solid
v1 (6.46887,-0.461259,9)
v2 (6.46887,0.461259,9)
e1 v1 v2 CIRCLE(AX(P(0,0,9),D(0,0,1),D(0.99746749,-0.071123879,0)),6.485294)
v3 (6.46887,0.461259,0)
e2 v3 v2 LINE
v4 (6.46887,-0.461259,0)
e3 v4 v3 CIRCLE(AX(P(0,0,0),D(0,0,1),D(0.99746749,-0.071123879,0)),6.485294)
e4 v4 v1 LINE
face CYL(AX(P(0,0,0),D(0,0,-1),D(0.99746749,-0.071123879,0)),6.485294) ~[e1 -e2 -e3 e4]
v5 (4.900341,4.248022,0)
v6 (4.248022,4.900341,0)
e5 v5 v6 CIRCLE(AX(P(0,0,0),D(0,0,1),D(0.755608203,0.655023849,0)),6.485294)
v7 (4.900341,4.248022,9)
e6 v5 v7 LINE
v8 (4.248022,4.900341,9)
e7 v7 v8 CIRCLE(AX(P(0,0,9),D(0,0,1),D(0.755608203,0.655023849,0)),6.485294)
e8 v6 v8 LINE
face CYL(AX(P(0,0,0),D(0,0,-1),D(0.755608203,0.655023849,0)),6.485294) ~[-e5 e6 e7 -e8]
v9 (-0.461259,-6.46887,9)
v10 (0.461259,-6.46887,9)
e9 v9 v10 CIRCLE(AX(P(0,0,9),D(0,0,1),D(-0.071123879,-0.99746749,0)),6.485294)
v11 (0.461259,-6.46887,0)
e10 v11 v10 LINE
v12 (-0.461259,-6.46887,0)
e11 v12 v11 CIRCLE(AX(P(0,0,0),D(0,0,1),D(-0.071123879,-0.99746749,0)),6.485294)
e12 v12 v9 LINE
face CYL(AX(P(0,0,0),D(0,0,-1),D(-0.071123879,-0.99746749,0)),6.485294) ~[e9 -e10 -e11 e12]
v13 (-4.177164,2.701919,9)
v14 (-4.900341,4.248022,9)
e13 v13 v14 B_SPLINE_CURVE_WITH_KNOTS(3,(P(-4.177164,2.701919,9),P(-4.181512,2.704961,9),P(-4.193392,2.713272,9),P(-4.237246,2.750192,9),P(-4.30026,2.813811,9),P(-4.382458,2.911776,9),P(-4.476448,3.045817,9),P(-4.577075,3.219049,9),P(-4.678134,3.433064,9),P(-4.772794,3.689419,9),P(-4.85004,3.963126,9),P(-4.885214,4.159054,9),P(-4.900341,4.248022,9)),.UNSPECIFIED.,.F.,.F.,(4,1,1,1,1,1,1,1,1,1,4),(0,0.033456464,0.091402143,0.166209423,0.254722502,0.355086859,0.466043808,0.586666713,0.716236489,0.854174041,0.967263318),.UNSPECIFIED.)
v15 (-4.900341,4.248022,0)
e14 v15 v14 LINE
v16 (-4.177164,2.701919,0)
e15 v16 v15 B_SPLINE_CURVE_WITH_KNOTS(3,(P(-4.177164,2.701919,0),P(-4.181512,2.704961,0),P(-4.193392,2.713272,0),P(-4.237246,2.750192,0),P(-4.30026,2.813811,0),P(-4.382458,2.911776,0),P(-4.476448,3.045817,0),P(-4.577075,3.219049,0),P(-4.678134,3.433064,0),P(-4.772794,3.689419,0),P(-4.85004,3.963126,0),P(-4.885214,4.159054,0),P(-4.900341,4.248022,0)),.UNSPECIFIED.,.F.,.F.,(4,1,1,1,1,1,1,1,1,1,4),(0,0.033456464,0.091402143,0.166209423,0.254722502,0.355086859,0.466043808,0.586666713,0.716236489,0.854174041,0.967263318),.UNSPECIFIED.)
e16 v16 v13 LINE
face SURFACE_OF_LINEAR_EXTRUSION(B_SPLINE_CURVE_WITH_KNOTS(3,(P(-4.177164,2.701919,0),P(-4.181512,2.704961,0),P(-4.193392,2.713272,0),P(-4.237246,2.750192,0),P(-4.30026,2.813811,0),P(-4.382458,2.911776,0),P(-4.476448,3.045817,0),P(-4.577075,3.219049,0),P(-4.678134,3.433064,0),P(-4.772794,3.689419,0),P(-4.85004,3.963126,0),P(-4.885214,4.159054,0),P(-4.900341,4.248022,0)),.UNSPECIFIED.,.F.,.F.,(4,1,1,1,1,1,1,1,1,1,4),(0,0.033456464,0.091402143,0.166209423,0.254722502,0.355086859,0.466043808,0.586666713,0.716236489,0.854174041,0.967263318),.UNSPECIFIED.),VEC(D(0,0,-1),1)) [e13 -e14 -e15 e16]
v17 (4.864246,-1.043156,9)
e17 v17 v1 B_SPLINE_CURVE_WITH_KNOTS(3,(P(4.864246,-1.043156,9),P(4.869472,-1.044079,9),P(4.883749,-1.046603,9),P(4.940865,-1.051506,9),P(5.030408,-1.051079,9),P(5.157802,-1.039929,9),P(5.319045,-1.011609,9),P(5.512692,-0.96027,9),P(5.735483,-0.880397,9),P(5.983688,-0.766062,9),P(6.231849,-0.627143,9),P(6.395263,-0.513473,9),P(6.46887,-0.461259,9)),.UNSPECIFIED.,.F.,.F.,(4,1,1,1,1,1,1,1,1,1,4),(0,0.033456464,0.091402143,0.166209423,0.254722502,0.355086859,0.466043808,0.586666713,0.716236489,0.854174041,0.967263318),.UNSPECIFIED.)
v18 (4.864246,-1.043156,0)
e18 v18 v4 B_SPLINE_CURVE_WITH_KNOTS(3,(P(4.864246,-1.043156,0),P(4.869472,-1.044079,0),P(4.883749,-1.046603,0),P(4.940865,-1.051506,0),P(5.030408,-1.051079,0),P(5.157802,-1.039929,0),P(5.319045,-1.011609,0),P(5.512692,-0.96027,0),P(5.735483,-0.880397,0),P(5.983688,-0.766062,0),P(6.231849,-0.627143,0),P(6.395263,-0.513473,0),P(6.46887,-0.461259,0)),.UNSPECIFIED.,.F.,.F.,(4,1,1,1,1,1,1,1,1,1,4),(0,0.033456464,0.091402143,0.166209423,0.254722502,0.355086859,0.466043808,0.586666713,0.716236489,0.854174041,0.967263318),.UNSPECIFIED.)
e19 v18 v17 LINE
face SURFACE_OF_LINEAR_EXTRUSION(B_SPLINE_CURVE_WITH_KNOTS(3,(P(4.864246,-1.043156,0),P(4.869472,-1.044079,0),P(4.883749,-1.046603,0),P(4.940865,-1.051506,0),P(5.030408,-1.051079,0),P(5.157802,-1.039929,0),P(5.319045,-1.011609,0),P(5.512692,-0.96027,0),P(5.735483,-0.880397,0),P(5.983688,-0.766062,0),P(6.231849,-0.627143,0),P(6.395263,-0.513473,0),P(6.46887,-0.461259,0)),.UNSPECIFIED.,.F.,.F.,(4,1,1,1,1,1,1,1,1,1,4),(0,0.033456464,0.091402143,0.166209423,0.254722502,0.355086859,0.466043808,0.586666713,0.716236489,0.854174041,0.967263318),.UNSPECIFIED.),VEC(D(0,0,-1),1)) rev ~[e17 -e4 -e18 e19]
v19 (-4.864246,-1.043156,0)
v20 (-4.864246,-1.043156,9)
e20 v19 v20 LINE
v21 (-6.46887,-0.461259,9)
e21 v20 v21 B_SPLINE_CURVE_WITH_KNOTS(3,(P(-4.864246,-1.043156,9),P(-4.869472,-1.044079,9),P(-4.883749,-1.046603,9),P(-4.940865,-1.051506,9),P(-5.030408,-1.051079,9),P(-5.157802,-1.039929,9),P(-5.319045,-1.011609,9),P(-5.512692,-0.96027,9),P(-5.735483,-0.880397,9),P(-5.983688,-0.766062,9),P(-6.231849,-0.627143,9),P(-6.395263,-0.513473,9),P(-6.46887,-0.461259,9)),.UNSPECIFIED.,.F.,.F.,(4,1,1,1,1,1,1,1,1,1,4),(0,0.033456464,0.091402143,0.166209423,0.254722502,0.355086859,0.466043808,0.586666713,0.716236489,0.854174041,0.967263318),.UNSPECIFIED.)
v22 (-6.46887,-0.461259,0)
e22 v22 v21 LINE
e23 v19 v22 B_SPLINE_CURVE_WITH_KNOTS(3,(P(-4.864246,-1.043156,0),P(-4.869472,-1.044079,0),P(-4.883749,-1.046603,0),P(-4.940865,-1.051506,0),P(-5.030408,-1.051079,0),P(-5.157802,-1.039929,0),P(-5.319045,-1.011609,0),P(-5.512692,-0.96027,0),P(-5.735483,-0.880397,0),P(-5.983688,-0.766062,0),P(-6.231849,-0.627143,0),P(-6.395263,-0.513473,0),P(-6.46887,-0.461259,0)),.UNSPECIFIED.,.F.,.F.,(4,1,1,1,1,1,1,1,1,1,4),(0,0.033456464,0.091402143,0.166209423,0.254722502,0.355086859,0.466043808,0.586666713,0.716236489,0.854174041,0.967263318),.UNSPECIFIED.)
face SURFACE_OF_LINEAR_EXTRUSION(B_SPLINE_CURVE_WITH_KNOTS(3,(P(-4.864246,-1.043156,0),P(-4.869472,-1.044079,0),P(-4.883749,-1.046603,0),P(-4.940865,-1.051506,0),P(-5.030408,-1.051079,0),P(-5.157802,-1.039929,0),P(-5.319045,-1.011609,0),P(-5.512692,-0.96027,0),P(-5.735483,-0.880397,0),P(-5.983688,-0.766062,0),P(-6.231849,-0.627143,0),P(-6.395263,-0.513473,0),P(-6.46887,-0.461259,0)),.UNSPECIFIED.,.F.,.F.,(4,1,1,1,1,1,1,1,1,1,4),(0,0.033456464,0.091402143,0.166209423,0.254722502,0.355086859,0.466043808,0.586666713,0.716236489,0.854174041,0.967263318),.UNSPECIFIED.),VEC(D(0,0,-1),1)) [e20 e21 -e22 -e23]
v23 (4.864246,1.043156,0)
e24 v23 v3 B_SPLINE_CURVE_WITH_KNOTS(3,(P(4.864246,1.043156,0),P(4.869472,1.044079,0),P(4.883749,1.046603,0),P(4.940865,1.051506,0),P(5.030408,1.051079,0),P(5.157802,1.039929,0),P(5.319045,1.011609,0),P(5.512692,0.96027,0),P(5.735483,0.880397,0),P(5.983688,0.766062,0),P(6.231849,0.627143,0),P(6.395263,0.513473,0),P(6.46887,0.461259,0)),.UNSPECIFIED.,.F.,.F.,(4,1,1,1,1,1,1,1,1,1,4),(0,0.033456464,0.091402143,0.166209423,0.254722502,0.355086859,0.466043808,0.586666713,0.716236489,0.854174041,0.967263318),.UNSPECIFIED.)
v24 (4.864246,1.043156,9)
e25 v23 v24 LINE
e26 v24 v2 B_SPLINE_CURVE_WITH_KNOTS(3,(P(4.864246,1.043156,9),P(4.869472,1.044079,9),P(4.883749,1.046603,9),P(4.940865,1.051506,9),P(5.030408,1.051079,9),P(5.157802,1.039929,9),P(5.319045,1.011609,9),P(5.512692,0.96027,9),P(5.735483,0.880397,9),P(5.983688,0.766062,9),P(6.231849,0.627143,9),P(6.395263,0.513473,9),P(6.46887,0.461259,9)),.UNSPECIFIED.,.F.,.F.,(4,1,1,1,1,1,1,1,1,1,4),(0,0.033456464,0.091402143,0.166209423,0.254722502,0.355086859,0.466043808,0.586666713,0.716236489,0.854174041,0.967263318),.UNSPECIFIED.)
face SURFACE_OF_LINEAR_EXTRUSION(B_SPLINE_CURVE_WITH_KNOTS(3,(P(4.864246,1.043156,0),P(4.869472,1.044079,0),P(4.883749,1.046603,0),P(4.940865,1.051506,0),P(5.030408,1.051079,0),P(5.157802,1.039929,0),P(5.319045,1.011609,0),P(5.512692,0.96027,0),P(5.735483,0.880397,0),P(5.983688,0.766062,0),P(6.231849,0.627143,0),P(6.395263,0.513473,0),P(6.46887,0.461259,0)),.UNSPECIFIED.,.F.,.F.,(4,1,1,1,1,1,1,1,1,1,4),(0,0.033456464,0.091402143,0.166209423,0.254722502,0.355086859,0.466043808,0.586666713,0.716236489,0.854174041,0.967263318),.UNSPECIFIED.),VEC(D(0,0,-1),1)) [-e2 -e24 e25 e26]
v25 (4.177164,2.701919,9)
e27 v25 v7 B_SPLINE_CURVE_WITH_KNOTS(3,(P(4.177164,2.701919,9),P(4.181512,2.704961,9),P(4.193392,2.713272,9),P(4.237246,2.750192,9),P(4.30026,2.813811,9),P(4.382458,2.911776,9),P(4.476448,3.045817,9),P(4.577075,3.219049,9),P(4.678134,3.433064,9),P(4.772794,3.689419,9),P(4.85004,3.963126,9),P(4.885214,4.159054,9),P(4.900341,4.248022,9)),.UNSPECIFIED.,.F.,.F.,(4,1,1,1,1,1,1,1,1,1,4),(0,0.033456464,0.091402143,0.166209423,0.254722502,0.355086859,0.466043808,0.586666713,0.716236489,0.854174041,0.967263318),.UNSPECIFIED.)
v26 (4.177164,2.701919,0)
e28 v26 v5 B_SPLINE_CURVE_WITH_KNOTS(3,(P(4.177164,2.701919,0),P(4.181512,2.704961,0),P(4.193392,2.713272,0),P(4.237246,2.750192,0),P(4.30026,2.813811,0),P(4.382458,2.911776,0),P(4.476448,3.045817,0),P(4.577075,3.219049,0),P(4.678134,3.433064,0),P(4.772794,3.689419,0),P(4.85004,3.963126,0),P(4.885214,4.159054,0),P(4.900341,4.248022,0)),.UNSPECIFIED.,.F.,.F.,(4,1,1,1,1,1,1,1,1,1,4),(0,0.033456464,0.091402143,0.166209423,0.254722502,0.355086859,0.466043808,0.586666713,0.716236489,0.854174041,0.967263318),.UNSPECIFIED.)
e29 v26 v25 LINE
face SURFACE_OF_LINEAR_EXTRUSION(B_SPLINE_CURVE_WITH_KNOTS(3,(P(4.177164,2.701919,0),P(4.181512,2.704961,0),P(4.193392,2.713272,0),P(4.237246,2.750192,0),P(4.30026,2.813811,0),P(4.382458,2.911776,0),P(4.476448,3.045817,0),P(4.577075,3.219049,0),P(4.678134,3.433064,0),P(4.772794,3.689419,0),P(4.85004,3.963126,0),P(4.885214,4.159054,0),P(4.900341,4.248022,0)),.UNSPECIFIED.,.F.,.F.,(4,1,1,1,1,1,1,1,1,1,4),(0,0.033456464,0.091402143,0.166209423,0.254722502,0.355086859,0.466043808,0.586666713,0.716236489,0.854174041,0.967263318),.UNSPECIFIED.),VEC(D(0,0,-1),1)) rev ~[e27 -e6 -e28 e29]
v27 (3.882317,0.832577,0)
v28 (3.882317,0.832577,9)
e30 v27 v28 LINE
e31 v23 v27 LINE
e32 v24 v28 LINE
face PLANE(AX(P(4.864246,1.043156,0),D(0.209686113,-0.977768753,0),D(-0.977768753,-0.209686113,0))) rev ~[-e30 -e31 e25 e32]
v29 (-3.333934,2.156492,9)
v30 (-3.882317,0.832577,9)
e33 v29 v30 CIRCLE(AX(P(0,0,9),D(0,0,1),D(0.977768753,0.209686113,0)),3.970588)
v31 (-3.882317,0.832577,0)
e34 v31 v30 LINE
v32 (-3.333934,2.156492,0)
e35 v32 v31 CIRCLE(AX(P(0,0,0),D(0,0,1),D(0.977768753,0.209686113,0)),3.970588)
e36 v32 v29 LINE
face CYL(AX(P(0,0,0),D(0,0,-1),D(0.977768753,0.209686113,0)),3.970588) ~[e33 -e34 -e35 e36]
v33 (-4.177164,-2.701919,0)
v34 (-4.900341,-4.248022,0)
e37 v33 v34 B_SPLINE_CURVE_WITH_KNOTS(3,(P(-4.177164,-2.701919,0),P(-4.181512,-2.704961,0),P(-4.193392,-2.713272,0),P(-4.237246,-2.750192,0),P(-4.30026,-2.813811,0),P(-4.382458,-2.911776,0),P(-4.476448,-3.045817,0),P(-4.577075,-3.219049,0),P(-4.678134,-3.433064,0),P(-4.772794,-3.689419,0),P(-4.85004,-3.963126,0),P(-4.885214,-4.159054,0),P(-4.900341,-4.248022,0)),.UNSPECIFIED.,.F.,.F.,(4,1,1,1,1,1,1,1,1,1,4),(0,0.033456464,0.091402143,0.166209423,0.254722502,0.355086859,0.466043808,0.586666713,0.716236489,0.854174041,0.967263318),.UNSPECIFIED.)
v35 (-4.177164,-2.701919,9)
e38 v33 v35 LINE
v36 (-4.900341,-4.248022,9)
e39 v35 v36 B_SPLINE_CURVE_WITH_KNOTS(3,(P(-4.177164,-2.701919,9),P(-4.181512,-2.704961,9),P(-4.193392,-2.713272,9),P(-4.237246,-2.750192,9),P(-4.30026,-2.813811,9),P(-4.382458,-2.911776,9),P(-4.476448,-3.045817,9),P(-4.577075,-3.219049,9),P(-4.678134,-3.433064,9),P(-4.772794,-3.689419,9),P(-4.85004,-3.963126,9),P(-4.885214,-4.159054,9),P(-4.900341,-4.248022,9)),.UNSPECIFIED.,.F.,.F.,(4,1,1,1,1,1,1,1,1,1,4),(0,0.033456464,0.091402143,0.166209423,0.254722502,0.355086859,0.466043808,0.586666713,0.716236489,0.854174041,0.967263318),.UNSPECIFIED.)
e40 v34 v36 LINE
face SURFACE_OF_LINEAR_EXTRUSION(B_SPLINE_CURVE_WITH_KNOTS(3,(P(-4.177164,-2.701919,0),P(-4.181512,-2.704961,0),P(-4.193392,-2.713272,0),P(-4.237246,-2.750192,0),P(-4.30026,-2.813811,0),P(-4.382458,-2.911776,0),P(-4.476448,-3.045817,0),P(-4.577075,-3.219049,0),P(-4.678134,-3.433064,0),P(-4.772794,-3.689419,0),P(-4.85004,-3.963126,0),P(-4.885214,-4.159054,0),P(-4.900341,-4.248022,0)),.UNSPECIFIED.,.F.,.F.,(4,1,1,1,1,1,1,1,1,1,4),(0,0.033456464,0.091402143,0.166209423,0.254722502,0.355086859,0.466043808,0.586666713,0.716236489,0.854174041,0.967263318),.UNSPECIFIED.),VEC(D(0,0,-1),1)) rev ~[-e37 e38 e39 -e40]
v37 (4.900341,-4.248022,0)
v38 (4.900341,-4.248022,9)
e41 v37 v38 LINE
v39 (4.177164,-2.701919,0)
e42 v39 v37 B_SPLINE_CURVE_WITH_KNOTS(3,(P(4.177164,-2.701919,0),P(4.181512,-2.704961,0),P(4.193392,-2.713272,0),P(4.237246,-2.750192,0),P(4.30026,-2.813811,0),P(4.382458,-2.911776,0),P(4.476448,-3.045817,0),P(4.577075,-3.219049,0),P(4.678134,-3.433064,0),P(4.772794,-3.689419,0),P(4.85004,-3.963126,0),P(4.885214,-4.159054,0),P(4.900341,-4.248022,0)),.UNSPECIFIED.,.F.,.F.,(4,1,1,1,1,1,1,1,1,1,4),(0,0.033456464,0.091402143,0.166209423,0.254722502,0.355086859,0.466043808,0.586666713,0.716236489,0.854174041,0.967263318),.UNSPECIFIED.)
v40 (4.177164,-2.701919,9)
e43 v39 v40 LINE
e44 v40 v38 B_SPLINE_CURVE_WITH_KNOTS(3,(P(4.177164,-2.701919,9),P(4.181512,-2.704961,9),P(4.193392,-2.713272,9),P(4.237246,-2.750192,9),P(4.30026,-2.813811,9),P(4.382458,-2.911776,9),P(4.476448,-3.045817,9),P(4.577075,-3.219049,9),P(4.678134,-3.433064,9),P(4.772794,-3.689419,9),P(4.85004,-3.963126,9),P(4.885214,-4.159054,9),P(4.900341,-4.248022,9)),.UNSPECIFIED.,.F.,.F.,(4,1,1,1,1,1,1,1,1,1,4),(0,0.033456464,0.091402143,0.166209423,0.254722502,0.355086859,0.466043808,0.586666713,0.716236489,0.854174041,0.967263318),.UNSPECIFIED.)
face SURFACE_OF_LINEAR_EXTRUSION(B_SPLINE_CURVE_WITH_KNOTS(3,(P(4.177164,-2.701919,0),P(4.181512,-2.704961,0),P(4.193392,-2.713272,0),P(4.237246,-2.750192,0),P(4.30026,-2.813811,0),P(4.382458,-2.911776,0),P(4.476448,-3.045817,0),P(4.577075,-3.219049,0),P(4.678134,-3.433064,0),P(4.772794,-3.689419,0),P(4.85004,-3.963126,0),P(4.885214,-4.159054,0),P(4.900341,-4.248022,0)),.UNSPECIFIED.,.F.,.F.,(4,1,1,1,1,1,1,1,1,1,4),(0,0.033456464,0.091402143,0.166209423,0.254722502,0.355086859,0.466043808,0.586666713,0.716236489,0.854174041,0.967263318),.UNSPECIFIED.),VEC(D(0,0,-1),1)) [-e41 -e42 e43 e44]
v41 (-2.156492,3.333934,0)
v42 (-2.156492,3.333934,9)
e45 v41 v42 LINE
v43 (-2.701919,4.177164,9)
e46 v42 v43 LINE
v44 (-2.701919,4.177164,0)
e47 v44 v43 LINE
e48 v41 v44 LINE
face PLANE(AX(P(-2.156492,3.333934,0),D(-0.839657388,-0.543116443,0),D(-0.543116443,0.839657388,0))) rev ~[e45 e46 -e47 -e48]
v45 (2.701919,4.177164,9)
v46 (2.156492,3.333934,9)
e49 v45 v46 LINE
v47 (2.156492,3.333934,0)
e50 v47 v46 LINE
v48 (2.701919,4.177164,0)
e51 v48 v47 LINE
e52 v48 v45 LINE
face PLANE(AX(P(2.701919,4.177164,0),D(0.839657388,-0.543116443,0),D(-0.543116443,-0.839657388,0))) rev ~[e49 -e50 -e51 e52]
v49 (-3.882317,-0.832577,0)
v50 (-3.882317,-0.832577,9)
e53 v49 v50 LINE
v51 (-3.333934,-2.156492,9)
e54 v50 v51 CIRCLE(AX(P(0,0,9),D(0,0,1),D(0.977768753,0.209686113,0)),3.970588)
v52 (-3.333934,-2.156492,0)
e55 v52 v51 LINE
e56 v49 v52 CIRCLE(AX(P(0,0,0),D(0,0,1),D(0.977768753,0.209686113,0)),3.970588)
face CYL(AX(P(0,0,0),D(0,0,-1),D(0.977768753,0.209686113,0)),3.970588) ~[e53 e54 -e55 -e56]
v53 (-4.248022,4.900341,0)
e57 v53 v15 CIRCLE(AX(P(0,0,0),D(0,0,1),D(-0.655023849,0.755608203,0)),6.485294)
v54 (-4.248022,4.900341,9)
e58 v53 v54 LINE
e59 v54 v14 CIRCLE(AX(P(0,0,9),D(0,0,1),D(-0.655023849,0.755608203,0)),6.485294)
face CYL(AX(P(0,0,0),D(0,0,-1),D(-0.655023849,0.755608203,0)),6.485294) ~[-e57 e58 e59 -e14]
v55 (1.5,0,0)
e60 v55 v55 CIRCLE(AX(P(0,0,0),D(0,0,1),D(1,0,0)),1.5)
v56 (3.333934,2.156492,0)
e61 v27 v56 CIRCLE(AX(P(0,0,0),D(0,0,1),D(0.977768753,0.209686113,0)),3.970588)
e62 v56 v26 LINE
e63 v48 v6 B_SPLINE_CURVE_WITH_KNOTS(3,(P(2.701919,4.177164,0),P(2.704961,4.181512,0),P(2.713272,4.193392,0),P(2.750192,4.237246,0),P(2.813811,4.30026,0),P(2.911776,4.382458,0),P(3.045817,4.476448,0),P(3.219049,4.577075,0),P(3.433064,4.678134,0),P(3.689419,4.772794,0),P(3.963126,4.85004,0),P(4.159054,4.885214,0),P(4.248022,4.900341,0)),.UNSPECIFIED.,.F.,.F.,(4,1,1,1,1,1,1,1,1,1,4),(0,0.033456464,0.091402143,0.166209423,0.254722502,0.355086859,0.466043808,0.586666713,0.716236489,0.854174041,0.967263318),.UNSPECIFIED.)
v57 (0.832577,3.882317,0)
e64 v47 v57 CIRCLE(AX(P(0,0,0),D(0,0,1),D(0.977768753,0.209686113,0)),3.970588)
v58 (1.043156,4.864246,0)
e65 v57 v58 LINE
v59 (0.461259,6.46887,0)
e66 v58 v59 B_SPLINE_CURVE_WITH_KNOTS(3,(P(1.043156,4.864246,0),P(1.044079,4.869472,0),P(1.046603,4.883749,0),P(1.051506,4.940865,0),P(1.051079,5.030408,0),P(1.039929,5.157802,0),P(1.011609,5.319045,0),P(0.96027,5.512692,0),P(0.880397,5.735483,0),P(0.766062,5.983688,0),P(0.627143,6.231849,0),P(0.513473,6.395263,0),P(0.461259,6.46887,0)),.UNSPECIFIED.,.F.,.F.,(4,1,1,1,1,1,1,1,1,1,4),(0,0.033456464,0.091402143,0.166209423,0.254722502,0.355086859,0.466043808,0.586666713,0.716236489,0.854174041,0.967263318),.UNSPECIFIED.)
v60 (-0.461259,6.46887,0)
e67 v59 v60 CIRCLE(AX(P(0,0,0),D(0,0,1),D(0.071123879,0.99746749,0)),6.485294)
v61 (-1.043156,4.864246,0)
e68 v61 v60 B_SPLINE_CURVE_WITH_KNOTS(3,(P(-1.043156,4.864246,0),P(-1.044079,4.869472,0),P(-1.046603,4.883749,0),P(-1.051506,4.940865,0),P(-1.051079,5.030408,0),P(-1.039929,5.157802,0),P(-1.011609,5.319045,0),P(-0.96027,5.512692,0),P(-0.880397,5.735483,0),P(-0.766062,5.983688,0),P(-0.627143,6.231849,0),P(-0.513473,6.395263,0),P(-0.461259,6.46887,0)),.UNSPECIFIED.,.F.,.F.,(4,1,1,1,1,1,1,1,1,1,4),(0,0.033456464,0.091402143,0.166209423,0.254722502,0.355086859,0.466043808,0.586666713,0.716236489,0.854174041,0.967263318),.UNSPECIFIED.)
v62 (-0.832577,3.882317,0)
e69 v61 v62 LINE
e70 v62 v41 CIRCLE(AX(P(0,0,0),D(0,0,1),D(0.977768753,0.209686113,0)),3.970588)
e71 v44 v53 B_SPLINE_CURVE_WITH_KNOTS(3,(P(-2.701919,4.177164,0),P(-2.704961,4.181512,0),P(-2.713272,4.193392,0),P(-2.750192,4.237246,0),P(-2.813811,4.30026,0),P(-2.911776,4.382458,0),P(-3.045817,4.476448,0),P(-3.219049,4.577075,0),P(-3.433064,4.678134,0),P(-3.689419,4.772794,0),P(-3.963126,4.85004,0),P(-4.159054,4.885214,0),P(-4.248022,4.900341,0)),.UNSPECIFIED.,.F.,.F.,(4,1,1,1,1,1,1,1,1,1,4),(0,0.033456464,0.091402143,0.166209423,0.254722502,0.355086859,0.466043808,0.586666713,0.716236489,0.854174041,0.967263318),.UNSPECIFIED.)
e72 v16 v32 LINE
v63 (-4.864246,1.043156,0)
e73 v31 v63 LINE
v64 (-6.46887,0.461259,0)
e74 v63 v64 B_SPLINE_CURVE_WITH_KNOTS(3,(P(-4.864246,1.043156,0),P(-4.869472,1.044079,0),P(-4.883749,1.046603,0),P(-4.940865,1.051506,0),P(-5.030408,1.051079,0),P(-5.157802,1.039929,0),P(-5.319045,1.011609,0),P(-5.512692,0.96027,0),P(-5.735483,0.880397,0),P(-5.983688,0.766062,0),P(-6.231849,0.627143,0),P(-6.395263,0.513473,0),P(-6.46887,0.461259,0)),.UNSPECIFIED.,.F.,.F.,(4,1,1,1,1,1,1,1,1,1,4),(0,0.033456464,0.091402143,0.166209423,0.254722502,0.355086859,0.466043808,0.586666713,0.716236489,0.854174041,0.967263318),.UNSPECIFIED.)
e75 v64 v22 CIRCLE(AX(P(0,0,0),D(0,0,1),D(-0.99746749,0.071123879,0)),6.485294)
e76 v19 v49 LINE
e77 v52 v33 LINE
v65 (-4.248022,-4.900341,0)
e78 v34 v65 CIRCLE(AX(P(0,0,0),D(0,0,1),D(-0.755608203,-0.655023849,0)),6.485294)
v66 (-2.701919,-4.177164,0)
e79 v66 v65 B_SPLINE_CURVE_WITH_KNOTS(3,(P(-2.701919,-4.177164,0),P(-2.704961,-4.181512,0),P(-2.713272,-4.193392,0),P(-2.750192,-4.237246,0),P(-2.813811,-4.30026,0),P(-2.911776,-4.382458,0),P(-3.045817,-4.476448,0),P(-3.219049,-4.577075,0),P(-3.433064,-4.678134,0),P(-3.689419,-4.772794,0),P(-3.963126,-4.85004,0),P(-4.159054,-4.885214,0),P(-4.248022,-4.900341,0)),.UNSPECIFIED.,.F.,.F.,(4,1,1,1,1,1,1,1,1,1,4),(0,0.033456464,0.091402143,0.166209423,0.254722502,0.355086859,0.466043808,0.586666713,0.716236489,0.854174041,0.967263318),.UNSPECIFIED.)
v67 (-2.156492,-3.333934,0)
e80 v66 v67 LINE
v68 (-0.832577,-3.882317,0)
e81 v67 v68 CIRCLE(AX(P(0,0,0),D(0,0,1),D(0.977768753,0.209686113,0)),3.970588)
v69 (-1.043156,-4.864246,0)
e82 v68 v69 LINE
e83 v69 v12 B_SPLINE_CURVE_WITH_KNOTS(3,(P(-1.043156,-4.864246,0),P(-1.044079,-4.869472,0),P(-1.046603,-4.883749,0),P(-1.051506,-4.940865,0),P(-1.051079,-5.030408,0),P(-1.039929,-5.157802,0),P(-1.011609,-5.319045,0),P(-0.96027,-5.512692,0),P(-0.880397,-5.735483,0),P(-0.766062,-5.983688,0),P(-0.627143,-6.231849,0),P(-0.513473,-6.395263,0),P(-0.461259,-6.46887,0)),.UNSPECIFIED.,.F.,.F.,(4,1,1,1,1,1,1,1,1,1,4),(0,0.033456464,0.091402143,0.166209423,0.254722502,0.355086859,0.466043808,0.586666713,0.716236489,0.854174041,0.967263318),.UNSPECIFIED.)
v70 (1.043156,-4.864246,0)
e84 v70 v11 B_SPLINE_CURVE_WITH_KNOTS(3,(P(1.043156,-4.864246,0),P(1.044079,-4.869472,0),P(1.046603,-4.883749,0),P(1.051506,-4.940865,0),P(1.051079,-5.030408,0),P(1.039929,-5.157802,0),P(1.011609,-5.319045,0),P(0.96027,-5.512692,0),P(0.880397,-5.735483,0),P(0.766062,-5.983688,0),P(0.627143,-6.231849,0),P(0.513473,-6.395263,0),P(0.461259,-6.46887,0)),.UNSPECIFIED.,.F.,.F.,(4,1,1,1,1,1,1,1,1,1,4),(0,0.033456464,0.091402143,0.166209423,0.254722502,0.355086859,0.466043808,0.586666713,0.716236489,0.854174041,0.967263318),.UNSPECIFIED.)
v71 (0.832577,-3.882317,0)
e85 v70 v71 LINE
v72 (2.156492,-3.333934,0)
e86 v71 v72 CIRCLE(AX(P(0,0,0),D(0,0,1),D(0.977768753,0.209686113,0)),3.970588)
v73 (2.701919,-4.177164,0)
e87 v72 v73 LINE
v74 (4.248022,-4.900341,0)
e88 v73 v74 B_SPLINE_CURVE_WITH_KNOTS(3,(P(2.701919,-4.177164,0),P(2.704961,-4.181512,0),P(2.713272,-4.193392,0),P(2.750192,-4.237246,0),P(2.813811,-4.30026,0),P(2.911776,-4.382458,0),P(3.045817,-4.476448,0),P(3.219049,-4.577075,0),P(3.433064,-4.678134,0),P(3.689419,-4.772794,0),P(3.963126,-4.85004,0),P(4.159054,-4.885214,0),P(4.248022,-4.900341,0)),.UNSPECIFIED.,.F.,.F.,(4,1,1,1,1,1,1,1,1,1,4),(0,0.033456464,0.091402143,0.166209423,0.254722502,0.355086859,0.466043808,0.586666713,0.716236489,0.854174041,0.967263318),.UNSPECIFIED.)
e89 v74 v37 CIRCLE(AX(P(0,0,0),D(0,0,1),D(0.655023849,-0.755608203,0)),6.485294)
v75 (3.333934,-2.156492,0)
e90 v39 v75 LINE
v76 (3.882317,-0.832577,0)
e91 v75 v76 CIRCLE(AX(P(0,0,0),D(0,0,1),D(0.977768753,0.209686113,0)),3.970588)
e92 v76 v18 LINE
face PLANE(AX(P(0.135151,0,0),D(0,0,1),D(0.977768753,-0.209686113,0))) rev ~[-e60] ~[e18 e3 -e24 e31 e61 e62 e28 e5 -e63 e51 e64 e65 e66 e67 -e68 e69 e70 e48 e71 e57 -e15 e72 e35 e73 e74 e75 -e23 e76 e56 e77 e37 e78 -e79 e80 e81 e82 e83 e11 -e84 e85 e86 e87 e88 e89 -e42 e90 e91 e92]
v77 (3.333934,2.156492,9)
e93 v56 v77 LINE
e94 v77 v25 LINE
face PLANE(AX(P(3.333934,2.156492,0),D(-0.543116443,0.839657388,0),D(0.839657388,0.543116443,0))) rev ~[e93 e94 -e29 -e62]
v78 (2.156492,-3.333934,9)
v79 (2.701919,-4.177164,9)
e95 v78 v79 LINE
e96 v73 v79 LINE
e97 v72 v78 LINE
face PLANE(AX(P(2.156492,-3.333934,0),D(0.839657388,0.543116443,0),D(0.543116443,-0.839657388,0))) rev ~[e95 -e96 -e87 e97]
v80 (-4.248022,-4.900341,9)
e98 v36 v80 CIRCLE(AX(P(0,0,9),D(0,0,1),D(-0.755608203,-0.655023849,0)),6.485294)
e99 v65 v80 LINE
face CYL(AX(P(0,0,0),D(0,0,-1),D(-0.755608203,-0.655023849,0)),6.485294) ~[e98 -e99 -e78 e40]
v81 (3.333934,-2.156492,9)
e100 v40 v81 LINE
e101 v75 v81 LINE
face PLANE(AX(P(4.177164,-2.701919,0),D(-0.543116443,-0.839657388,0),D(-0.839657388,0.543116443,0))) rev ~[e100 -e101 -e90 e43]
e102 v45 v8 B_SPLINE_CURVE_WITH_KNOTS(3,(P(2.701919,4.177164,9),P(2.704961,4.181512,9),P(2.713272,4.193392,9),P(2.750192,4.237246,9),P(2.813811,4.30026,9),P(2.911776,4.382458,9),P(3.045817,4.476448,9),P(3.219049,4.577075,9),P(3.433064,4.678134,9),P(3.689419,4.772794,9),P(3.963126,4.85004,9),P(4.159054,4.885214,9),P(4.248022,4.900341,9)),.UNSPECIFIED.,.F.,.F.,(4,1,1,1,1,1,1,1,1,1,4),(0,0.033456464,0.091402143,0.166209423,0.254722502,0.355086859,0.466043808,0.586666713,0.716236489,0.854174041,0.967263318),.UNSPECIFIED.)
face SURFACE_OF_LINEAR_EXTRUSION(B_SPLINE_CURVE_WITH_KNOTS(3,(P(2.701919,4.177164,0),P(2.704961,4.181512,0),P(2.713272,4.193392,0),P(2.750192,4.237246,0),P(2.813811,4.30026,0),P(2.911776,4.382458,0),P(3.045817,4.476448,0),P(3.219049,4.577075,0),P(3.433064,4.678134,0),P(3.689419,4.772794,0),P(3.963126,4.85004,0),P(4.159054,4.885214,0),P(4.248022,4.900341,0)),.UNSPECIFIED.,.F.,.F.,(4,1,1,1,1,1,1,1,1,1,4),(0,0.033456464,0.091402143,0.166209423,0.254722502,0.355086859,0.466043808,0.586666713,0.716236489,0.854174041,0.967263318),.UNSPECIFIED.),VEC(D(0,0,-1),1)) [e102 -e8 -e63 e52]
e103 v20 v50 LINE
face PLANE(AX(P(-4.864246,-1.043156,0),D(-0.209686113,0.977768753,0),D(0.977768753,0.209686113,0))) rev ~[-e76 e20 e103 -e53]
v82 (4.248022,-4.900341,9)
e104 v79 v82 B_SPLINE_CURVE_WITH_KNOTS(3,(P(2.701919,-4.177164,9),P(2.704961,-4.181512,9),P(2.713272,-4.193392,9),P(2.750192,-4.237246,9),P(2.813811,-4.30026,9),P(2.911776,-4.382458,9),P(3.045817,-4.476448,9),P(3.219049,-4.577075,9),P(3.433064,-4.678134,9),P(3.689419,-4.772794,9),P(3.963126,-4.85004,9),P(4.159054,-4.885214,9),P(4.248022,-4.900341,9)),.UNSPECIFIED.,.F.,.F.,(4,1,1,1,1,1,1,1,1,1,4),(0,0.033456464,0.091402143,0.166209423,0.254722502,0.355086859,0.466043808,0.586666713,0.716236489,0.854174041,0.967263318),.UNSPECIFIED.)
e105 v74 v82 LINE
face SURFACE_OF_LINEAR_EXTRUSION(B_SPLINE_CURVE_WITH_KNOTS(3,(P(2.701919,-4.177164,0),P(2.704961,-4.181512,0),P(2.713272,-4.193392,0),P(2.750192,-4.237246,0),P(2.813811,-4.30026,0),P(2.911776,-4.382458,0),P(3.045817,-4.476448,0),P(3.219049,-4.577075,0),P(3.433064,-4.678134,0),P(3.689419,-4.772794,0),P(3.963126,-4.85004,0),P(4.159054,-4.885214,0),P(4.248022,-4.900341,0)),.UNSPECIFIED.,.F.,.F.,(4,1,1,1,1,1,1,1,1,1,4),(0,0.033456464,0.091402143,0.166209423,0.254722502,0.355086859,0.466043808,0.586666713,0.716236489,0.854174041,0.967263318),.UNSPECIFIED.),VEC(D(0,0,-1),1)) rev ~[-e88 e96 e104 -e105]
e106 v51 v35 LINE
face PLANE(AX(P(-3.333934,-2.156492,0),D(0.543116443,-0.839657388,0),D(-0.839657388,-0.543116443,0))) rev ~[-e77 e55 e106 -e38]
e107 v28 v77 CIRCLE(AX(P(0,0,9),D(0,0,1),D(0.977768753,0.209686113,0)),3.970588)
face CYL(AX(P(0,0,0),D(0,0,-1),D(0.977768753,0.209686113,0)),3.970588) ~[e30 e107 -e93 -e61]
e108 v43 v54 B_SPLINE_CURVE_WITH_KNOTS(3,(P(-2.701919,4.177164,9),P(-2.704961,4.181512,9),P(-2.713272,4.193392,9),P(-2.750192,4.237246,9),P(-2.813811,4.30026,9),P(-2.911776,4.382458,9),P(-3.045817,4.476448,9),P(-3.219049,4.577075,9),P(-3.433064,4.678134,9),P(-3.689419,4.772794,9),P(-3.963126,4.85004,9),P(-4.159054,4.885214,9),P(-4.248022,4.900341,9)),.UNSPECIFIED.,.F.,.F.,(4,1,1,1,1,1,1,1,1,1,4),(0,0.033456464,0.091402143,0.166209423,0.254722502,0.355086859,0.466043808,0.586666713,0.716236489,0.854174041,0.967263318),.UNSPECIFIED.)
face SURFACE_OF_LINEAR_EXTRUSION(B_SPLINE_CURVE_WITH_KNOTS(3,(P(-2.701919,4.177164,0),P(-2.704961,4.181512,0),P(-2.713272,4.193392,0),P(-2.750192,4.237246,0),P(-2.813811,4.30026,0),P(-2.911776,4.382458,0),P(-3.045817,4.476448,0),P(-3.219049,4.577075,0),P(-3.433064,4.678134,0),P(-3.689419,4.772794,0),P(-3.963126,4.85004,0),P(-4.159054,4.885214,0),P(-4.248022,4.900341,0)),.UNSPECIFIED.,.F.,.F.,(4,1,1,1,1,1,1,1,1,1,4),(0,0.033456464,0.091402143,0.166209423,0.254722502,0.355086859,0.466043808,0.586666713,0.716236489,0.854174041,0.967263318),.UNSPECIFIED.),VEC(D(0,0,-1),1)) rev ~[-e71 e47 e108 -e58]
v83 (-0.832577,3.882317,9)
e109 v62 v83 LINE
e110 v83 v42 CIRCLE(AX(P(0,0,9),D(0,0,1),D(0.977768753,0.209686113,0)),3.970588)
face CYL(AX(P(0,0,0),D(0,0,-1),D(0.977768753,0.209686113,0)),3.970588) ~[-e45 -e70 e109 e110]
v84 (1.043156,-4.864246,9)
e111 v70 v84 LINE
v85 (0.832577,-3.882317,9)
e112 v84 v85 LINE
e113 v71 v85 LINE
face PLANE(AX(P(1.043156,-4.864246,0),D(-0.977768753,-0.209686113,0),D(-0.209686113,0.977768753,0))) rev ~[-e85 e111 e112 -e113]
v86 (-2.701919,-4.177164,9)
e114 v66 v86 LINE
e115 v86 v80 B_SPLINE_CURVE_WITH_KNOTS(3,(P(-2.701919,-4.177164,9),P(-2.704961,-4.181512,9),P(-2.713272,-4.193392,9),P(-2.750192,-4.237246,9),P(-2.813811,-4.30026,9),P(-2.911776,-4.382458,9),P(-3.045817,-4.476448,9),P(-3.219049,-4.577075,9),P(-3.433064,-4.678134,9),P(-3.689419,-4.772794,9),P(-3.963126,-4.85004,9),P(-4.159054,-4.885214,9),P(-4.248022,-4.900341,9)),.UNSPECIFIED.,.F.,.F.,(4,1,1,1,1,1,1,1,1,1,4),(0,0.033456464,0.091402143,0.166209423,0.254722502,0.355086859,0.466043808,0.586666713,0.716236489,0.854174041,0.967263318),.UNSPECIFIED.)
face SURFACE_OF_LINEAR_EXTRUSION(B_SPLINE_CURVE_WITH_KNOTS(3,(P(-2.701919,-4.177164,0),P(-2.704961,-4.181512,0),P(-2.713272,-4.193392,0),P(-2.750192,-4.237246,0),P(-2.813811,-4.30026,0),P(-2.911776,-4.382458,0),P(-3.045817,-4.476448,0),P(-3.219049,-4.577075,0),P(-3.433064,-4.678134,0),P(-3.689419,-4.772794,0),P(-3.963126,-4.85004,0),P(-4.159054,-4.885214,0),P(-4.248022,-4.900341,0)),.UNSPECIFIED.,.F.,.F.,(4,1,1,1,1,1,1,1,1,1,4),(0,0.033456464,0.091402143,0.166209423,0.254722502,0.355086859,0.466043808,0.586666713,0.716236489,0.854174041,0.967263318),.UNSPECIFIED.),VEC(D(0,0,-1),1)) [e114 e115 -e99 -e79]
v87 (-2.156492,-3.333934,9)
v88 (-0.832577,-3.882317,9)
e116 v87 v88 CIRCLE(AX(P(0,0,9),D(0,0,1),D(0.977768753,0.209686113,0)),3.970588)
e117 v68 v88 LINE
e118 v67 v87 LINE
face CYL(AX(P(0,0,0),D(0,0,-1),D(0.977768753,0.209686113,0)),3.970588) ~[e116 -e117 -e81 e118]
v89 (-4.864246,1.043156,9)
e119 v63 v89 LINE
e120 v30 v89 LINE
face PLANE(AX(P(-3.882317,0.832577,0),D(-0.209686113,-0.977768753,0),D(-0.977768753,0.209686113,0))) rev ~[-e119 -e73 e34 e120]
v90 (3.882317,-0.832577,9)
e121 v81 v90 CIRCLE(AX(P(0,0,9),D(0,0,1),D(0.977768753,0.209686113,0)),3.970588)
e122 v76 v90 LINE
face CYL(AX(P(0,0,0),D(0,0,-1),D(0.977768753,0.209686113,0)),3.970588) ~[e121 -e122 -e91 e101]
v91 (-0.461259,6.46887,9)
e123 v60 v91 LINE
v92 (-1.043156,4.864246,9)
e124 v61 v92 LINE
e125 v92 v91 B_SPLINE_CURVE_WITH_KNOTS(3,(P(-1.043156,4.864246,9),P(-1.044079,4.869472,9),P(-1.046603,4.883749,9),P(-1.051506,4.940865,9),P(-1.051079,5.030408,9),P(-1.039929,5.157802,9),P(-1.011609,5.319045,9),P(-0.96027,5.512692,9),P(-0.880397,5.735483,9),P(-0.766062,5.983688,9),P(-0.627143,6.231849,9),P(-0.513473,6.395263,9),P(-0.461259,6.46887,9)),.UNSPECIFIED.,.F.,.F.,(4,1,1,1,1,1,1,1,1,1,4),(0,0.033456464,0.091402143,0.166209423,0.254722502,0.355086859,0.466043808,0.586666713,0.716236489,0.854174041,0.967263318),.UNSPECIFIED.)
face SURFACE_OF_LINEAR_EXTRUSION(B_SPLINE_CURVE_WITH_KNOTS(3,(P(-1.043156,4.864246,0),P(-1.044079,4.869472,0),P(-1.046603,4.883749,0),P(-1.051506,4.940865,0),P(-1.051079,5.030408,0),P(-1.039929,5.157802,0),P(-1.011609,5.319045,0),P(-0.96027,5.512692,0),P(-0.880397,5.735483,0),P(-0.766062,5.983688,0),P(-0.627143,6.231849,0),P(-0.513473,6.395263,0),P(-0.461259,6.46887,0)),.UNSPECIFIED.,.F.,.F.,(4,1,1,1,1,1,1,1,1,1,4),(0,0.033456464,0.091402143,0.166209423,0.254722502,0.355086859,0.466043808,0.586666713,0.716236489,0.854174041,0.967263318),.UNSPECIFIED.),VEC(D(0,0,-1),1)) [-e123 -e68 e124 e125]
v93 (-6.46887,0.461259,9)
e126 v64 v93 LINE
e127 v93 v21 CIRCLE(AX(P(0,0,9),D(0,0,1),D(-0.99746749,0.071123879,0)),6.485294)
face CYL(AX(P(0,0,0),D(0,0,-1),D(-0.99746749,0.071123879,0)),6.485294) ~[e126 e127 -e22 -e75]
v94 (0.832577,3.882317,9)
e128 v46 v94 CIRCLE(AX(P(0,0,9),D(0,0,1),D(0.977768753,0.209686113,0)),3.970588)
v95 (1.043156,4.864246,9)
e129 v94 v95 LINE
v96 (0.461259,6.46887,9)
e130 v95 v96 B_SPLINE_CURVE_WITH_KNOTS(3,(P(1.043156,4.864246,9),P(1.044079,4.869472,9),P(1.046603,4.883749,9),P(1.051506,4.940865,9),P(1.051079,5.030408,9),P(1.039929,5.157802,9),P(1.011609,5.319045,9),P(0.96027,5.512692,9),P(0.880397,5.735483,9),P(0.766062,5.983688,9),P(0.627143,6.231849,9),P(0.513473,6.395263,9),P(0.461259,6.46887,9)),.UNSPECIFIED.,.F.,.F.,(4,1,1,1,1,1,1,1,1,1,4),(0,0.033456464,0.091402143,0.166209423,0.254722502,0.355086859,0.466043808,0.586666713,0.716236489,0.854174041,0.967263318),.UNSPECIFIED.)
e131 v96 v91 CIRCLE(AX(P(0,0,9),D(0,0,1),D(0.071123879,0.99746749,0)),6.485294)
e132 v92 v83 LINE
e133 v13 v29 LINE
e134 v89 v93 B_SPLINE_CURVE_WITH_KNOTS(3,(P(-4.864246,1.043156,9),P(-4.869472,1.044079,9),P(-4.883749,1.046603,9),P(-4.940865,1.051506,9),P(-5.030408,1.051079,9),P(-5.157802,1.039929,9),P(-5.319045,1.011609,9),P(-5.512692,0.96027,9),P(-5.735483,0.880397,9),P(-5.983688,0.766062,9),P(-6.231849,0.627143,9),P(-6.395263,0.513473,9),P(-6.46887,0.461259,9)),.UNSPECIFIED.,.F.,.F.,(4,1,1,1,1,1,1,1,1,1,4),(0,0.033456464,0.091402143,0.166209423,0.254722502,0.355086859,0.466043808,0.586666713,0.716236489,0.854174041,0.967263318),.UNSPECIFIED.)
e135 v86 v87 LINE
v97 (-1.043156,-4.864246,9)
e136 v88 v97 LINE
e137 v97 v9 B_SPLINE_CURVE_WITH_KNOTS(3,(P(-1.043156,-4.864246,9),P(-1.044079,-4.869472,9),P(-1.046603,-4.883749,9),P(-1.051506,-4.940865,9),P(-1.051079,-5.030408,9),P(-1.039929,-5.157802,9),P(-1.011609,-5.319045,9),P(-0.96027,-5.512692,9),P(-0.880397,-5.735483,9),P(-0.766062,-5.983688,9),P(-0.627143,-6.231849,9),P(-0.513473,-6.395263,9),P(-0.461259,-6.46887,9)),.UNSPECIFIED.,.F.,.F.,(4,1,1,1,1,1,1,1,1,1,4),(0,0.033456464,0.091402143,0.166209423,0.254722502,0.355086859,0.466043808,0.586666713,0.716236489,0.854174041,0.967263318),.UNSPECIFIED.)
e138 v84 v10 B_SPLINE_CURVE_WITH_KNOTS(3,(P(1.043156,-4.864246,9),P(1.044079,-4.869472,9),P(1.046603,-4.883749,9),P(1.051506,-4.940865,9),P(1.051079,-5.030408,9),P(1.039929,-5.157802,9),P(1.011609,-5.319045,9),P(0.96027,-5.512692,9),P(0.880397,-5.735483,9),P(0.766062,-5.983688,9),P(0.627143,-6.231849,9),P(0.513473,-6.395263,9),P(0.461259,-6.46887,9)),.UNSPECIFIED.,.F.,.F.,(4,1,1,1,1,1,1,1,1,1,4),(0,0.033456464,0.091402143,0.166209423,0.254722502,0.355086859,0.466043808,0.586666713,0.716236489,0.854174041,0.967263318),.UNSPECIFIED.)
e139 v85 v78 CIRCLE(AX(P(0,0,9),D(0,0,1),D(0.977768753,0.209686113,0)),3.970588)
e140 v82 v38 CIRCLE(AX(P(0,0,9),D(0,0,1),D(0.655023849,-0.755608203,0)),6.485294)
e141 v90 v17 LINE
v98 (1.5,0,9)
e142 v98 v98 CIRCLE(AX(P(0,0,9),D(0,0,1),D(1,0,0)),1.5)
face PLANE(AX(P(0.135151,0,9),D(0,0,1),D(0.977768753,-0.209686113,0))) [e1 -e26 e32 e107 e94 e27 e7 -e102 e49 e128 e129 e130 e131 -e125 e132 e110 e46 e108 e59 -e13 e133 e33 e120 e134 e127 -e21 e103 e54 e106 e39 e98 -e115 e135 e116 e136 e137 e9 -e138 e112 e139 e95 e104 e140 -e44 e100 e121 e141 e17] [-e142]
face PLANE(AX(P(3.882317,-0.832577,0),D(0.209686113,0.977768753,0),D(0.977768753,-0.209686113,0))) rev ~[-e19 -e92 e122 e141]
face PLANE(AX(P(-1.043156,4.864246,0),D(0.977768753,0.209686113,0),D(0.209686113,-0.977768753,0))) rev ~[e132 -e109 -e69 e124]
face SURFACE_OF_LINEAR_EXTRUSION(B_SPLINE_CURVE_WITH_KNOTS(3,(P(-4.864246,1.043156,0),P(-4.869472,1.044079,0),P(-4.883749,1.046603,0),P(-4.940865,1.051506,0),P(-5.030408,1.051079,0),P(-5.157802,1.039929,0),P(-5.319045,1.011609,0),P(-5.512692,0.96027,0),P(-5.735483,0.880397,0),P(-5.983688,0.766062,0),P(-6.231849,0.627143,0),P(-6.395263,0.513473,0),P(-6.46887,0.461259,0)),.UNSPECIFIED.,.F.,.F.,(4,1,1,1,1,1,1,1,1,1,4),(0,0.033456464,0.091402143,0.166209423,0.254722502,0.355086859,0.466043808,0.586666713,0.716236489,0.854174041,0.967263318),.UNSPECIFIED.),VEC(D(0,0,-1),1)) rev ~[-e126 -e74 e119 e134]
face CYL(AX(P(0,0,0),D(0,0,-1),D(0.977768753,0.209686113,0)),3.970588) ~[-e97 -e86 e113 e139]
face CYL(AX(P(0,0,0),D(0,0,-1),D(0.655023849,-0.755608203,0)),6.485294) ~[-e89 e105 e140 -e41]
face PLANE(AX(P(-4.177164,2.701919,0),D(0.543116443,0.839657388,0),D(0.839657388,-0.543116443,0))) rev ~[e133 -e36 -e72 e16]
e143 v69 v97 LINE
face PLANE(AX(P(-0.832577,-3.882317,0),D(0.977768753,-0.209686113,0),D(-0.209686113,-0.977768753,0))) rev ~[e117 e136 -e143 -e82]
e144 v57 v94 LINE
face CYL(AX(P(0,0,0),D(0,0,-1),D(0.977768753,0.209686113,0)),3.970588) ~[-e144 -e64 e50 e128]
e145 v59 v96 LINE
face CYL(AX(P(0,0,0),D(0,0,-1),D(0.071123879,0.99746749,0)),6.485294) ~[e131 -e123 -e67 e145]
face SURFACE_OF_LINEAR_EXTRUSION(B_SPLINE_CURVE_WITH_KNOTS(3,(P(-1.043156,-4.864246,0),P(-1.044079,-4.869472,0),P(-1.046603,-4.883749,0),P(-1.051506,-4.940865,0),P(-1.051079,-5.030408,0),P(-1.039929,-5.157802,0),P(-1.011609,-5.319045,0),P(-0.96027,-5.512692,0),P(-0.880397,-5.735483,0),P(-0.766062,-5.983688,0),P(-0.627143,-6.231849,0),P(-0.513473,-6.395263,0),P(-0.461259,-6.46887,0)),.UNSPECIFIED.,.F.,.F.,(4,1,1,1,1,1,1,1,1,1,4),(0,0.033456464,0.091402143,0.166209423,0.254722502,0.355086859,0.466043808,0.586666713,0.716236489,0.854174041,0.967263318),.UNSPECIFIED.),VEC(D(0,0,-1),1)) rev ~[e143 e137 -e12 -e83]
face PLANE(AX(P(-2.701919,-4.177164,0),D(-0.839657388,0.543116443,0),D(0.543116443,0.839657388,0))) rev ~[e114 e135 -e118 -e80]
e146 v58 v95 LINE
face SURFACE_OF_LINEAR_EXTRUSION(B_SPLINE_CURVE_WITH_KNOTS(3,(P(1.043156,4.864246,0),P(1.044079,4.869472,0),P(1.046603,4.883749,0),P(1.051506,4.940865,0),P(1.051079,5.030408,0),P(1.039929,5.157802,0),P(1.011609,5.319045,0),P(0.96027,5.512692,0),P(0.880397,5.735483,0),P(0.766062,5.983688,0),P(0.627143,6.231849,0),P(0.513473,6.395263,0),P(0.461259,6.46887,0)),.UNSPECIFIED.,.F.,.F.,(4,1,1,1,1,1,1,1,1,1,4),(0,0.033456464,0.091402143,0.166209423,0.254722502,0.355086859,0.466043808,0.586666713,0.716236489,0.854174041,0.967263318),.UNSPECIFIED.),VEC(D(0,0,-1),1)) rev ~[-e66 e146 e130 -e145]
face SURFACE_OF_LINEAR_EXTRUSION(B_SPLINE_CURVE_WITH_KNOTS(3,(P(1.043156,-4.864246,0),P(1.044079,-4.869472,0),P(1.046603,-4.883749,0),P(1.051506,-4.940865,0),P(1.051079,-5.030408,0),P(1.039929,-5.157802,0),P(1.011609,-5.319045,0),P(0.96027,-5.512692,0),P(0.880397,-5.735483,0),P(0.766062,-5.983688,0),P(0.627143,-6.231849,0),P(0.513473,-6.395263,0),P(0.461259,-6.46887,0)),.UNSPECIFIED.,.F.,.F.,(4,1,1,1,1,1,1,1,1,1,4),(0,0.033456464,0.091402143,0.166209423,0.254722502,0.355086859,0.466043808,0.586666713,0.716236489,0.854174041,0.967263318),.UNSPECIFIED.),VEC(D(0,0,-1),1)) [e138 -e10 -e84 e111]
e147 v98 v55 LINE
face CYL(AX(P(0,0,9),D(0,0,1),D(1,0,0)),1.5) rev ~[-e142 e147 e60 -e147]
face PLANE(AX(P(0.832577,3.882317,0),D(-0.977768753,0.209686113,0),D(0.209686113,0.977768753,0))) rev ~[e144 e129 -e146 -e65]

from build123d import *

# Parameters (mm, degrees)
F2_DEPTH = 9
F3_COUNT = 8
F4_ANGLE = -12.10395829
F5_R     = 1.5
F6_DEPTH = 9


with BuildPart() as f2:
    # F0 (on Top) → F2 (new body)
    with BuildSketch(Plane.XY):
        with BuildLine():
            ThreePointArc((3.6214284351, 1.6281359465), (-3.8823170623, -0.8325772028), (3.9705881895, 0))
            ThreePointArc((3.9705881895, 0), (3.8823170623, 0.8325772028), (3.6214284351, 1.6281359465))
        make_face()
        with BuildLine():
            ThreePointArc((3.6214284351, 1.6281359465), (3.8823170623, 0.8325772028), (3.9705881895, 0))
            Line((3.9705881895, 0), (4.974843229, 0))
            add(Edge.make_bspline(
                [(4.974843229, 0), (4.9801466314, 0.0001925881), (4.9946353816, 0.0007187334), (5.0515091084, 0.007901301), (5.1389720703, 0.0270949003), (5.2611962602, 0.0647089906), (5.4129160811, 0.1262103484), (5.5914935571, 0.2170132856), (5.7925834332, 0.3418264578), (6.0112959876, 0.5056653333), (6.2248108983, 0.6935311725), (6.3607565303, 0.8389400469), (6.4217785849, 0.9054272978)],
                knots=[0, 0, 0, 0, 0.0334564641, 0.0914021433, 0.1662094232, 0.2547225024, 0.3550868593, 0.4660438076, 0.5866667132, 0.7162364887, 0.8541740412, 0.9672633179, 0.9672633179, 0.9672633179, 0.9672633179], degree=3))
            ThreePointArc((6.4217785849, 0.9054272978), (6.3411178656, 1.3598760973), (6.2283392589, 1.8074370975))
            add(Edge.make_bspline(
                [(4.5373727694, 2.0399297793), (4.5422887796, 2.041928782), (4.5557191847, 2.0473900024), (4.6105368383, 2.0641600629), (4.698178928, 2.0825183873), (4.8250787688, 2.0983298636), (4.9886754487, 2.1044492916), (5.1887830997, 2.0948567755), (5.4233693532, 2.0634759551), (5.6900310606, 2.0037273789), (5.961804421, 1.9199333981), (6.1454202376, 1.843055654), (6.2283392589, 1.8074370975)],
                knots=[0, 0, 0, 0, 0.0334564641, 0.0914021433, 0.1662094232, 0.2547225024, 0.3550868593, 0.4660438076, 0.5866667132, 0.7162364887, 0.8541740412, 0.9672633179, 0.9672633179, 0.9672633179, 0.9672633179], degree=3))
            Line((4.5373727694, 2.0399297793), (3.6214284351, 1.6281359465))
        make_face()
    extrude(amount=F2_DEPTH)

    # F3: F2 ×8 about axis
    f3_axis = Axis((0, 0, 12.9622193053), (0, 0, 1))


with BuildPart() as f2_1:
    add(f2.part)
    for i in range(1, F3_COUNT):
        add(f2.part.rotate(f3_axis, i * 360 / F3_COUNT))


with BuildPart() as f2_2:
    # F4: moved
    add(f2_1.part.rotate(Axis((0, 0, 12.9622193053), (0, 0, 1)), F4_ANGLE))

    # F5 (on face) → F6 (cut, through all)
    with BuildSketch(Plane.XY.offset(9)):
        Circle(F5_R)
    extrude(amount=-F6_DEPTH, mode=Mode.SUBTRACT)


solid = f2_2.part
